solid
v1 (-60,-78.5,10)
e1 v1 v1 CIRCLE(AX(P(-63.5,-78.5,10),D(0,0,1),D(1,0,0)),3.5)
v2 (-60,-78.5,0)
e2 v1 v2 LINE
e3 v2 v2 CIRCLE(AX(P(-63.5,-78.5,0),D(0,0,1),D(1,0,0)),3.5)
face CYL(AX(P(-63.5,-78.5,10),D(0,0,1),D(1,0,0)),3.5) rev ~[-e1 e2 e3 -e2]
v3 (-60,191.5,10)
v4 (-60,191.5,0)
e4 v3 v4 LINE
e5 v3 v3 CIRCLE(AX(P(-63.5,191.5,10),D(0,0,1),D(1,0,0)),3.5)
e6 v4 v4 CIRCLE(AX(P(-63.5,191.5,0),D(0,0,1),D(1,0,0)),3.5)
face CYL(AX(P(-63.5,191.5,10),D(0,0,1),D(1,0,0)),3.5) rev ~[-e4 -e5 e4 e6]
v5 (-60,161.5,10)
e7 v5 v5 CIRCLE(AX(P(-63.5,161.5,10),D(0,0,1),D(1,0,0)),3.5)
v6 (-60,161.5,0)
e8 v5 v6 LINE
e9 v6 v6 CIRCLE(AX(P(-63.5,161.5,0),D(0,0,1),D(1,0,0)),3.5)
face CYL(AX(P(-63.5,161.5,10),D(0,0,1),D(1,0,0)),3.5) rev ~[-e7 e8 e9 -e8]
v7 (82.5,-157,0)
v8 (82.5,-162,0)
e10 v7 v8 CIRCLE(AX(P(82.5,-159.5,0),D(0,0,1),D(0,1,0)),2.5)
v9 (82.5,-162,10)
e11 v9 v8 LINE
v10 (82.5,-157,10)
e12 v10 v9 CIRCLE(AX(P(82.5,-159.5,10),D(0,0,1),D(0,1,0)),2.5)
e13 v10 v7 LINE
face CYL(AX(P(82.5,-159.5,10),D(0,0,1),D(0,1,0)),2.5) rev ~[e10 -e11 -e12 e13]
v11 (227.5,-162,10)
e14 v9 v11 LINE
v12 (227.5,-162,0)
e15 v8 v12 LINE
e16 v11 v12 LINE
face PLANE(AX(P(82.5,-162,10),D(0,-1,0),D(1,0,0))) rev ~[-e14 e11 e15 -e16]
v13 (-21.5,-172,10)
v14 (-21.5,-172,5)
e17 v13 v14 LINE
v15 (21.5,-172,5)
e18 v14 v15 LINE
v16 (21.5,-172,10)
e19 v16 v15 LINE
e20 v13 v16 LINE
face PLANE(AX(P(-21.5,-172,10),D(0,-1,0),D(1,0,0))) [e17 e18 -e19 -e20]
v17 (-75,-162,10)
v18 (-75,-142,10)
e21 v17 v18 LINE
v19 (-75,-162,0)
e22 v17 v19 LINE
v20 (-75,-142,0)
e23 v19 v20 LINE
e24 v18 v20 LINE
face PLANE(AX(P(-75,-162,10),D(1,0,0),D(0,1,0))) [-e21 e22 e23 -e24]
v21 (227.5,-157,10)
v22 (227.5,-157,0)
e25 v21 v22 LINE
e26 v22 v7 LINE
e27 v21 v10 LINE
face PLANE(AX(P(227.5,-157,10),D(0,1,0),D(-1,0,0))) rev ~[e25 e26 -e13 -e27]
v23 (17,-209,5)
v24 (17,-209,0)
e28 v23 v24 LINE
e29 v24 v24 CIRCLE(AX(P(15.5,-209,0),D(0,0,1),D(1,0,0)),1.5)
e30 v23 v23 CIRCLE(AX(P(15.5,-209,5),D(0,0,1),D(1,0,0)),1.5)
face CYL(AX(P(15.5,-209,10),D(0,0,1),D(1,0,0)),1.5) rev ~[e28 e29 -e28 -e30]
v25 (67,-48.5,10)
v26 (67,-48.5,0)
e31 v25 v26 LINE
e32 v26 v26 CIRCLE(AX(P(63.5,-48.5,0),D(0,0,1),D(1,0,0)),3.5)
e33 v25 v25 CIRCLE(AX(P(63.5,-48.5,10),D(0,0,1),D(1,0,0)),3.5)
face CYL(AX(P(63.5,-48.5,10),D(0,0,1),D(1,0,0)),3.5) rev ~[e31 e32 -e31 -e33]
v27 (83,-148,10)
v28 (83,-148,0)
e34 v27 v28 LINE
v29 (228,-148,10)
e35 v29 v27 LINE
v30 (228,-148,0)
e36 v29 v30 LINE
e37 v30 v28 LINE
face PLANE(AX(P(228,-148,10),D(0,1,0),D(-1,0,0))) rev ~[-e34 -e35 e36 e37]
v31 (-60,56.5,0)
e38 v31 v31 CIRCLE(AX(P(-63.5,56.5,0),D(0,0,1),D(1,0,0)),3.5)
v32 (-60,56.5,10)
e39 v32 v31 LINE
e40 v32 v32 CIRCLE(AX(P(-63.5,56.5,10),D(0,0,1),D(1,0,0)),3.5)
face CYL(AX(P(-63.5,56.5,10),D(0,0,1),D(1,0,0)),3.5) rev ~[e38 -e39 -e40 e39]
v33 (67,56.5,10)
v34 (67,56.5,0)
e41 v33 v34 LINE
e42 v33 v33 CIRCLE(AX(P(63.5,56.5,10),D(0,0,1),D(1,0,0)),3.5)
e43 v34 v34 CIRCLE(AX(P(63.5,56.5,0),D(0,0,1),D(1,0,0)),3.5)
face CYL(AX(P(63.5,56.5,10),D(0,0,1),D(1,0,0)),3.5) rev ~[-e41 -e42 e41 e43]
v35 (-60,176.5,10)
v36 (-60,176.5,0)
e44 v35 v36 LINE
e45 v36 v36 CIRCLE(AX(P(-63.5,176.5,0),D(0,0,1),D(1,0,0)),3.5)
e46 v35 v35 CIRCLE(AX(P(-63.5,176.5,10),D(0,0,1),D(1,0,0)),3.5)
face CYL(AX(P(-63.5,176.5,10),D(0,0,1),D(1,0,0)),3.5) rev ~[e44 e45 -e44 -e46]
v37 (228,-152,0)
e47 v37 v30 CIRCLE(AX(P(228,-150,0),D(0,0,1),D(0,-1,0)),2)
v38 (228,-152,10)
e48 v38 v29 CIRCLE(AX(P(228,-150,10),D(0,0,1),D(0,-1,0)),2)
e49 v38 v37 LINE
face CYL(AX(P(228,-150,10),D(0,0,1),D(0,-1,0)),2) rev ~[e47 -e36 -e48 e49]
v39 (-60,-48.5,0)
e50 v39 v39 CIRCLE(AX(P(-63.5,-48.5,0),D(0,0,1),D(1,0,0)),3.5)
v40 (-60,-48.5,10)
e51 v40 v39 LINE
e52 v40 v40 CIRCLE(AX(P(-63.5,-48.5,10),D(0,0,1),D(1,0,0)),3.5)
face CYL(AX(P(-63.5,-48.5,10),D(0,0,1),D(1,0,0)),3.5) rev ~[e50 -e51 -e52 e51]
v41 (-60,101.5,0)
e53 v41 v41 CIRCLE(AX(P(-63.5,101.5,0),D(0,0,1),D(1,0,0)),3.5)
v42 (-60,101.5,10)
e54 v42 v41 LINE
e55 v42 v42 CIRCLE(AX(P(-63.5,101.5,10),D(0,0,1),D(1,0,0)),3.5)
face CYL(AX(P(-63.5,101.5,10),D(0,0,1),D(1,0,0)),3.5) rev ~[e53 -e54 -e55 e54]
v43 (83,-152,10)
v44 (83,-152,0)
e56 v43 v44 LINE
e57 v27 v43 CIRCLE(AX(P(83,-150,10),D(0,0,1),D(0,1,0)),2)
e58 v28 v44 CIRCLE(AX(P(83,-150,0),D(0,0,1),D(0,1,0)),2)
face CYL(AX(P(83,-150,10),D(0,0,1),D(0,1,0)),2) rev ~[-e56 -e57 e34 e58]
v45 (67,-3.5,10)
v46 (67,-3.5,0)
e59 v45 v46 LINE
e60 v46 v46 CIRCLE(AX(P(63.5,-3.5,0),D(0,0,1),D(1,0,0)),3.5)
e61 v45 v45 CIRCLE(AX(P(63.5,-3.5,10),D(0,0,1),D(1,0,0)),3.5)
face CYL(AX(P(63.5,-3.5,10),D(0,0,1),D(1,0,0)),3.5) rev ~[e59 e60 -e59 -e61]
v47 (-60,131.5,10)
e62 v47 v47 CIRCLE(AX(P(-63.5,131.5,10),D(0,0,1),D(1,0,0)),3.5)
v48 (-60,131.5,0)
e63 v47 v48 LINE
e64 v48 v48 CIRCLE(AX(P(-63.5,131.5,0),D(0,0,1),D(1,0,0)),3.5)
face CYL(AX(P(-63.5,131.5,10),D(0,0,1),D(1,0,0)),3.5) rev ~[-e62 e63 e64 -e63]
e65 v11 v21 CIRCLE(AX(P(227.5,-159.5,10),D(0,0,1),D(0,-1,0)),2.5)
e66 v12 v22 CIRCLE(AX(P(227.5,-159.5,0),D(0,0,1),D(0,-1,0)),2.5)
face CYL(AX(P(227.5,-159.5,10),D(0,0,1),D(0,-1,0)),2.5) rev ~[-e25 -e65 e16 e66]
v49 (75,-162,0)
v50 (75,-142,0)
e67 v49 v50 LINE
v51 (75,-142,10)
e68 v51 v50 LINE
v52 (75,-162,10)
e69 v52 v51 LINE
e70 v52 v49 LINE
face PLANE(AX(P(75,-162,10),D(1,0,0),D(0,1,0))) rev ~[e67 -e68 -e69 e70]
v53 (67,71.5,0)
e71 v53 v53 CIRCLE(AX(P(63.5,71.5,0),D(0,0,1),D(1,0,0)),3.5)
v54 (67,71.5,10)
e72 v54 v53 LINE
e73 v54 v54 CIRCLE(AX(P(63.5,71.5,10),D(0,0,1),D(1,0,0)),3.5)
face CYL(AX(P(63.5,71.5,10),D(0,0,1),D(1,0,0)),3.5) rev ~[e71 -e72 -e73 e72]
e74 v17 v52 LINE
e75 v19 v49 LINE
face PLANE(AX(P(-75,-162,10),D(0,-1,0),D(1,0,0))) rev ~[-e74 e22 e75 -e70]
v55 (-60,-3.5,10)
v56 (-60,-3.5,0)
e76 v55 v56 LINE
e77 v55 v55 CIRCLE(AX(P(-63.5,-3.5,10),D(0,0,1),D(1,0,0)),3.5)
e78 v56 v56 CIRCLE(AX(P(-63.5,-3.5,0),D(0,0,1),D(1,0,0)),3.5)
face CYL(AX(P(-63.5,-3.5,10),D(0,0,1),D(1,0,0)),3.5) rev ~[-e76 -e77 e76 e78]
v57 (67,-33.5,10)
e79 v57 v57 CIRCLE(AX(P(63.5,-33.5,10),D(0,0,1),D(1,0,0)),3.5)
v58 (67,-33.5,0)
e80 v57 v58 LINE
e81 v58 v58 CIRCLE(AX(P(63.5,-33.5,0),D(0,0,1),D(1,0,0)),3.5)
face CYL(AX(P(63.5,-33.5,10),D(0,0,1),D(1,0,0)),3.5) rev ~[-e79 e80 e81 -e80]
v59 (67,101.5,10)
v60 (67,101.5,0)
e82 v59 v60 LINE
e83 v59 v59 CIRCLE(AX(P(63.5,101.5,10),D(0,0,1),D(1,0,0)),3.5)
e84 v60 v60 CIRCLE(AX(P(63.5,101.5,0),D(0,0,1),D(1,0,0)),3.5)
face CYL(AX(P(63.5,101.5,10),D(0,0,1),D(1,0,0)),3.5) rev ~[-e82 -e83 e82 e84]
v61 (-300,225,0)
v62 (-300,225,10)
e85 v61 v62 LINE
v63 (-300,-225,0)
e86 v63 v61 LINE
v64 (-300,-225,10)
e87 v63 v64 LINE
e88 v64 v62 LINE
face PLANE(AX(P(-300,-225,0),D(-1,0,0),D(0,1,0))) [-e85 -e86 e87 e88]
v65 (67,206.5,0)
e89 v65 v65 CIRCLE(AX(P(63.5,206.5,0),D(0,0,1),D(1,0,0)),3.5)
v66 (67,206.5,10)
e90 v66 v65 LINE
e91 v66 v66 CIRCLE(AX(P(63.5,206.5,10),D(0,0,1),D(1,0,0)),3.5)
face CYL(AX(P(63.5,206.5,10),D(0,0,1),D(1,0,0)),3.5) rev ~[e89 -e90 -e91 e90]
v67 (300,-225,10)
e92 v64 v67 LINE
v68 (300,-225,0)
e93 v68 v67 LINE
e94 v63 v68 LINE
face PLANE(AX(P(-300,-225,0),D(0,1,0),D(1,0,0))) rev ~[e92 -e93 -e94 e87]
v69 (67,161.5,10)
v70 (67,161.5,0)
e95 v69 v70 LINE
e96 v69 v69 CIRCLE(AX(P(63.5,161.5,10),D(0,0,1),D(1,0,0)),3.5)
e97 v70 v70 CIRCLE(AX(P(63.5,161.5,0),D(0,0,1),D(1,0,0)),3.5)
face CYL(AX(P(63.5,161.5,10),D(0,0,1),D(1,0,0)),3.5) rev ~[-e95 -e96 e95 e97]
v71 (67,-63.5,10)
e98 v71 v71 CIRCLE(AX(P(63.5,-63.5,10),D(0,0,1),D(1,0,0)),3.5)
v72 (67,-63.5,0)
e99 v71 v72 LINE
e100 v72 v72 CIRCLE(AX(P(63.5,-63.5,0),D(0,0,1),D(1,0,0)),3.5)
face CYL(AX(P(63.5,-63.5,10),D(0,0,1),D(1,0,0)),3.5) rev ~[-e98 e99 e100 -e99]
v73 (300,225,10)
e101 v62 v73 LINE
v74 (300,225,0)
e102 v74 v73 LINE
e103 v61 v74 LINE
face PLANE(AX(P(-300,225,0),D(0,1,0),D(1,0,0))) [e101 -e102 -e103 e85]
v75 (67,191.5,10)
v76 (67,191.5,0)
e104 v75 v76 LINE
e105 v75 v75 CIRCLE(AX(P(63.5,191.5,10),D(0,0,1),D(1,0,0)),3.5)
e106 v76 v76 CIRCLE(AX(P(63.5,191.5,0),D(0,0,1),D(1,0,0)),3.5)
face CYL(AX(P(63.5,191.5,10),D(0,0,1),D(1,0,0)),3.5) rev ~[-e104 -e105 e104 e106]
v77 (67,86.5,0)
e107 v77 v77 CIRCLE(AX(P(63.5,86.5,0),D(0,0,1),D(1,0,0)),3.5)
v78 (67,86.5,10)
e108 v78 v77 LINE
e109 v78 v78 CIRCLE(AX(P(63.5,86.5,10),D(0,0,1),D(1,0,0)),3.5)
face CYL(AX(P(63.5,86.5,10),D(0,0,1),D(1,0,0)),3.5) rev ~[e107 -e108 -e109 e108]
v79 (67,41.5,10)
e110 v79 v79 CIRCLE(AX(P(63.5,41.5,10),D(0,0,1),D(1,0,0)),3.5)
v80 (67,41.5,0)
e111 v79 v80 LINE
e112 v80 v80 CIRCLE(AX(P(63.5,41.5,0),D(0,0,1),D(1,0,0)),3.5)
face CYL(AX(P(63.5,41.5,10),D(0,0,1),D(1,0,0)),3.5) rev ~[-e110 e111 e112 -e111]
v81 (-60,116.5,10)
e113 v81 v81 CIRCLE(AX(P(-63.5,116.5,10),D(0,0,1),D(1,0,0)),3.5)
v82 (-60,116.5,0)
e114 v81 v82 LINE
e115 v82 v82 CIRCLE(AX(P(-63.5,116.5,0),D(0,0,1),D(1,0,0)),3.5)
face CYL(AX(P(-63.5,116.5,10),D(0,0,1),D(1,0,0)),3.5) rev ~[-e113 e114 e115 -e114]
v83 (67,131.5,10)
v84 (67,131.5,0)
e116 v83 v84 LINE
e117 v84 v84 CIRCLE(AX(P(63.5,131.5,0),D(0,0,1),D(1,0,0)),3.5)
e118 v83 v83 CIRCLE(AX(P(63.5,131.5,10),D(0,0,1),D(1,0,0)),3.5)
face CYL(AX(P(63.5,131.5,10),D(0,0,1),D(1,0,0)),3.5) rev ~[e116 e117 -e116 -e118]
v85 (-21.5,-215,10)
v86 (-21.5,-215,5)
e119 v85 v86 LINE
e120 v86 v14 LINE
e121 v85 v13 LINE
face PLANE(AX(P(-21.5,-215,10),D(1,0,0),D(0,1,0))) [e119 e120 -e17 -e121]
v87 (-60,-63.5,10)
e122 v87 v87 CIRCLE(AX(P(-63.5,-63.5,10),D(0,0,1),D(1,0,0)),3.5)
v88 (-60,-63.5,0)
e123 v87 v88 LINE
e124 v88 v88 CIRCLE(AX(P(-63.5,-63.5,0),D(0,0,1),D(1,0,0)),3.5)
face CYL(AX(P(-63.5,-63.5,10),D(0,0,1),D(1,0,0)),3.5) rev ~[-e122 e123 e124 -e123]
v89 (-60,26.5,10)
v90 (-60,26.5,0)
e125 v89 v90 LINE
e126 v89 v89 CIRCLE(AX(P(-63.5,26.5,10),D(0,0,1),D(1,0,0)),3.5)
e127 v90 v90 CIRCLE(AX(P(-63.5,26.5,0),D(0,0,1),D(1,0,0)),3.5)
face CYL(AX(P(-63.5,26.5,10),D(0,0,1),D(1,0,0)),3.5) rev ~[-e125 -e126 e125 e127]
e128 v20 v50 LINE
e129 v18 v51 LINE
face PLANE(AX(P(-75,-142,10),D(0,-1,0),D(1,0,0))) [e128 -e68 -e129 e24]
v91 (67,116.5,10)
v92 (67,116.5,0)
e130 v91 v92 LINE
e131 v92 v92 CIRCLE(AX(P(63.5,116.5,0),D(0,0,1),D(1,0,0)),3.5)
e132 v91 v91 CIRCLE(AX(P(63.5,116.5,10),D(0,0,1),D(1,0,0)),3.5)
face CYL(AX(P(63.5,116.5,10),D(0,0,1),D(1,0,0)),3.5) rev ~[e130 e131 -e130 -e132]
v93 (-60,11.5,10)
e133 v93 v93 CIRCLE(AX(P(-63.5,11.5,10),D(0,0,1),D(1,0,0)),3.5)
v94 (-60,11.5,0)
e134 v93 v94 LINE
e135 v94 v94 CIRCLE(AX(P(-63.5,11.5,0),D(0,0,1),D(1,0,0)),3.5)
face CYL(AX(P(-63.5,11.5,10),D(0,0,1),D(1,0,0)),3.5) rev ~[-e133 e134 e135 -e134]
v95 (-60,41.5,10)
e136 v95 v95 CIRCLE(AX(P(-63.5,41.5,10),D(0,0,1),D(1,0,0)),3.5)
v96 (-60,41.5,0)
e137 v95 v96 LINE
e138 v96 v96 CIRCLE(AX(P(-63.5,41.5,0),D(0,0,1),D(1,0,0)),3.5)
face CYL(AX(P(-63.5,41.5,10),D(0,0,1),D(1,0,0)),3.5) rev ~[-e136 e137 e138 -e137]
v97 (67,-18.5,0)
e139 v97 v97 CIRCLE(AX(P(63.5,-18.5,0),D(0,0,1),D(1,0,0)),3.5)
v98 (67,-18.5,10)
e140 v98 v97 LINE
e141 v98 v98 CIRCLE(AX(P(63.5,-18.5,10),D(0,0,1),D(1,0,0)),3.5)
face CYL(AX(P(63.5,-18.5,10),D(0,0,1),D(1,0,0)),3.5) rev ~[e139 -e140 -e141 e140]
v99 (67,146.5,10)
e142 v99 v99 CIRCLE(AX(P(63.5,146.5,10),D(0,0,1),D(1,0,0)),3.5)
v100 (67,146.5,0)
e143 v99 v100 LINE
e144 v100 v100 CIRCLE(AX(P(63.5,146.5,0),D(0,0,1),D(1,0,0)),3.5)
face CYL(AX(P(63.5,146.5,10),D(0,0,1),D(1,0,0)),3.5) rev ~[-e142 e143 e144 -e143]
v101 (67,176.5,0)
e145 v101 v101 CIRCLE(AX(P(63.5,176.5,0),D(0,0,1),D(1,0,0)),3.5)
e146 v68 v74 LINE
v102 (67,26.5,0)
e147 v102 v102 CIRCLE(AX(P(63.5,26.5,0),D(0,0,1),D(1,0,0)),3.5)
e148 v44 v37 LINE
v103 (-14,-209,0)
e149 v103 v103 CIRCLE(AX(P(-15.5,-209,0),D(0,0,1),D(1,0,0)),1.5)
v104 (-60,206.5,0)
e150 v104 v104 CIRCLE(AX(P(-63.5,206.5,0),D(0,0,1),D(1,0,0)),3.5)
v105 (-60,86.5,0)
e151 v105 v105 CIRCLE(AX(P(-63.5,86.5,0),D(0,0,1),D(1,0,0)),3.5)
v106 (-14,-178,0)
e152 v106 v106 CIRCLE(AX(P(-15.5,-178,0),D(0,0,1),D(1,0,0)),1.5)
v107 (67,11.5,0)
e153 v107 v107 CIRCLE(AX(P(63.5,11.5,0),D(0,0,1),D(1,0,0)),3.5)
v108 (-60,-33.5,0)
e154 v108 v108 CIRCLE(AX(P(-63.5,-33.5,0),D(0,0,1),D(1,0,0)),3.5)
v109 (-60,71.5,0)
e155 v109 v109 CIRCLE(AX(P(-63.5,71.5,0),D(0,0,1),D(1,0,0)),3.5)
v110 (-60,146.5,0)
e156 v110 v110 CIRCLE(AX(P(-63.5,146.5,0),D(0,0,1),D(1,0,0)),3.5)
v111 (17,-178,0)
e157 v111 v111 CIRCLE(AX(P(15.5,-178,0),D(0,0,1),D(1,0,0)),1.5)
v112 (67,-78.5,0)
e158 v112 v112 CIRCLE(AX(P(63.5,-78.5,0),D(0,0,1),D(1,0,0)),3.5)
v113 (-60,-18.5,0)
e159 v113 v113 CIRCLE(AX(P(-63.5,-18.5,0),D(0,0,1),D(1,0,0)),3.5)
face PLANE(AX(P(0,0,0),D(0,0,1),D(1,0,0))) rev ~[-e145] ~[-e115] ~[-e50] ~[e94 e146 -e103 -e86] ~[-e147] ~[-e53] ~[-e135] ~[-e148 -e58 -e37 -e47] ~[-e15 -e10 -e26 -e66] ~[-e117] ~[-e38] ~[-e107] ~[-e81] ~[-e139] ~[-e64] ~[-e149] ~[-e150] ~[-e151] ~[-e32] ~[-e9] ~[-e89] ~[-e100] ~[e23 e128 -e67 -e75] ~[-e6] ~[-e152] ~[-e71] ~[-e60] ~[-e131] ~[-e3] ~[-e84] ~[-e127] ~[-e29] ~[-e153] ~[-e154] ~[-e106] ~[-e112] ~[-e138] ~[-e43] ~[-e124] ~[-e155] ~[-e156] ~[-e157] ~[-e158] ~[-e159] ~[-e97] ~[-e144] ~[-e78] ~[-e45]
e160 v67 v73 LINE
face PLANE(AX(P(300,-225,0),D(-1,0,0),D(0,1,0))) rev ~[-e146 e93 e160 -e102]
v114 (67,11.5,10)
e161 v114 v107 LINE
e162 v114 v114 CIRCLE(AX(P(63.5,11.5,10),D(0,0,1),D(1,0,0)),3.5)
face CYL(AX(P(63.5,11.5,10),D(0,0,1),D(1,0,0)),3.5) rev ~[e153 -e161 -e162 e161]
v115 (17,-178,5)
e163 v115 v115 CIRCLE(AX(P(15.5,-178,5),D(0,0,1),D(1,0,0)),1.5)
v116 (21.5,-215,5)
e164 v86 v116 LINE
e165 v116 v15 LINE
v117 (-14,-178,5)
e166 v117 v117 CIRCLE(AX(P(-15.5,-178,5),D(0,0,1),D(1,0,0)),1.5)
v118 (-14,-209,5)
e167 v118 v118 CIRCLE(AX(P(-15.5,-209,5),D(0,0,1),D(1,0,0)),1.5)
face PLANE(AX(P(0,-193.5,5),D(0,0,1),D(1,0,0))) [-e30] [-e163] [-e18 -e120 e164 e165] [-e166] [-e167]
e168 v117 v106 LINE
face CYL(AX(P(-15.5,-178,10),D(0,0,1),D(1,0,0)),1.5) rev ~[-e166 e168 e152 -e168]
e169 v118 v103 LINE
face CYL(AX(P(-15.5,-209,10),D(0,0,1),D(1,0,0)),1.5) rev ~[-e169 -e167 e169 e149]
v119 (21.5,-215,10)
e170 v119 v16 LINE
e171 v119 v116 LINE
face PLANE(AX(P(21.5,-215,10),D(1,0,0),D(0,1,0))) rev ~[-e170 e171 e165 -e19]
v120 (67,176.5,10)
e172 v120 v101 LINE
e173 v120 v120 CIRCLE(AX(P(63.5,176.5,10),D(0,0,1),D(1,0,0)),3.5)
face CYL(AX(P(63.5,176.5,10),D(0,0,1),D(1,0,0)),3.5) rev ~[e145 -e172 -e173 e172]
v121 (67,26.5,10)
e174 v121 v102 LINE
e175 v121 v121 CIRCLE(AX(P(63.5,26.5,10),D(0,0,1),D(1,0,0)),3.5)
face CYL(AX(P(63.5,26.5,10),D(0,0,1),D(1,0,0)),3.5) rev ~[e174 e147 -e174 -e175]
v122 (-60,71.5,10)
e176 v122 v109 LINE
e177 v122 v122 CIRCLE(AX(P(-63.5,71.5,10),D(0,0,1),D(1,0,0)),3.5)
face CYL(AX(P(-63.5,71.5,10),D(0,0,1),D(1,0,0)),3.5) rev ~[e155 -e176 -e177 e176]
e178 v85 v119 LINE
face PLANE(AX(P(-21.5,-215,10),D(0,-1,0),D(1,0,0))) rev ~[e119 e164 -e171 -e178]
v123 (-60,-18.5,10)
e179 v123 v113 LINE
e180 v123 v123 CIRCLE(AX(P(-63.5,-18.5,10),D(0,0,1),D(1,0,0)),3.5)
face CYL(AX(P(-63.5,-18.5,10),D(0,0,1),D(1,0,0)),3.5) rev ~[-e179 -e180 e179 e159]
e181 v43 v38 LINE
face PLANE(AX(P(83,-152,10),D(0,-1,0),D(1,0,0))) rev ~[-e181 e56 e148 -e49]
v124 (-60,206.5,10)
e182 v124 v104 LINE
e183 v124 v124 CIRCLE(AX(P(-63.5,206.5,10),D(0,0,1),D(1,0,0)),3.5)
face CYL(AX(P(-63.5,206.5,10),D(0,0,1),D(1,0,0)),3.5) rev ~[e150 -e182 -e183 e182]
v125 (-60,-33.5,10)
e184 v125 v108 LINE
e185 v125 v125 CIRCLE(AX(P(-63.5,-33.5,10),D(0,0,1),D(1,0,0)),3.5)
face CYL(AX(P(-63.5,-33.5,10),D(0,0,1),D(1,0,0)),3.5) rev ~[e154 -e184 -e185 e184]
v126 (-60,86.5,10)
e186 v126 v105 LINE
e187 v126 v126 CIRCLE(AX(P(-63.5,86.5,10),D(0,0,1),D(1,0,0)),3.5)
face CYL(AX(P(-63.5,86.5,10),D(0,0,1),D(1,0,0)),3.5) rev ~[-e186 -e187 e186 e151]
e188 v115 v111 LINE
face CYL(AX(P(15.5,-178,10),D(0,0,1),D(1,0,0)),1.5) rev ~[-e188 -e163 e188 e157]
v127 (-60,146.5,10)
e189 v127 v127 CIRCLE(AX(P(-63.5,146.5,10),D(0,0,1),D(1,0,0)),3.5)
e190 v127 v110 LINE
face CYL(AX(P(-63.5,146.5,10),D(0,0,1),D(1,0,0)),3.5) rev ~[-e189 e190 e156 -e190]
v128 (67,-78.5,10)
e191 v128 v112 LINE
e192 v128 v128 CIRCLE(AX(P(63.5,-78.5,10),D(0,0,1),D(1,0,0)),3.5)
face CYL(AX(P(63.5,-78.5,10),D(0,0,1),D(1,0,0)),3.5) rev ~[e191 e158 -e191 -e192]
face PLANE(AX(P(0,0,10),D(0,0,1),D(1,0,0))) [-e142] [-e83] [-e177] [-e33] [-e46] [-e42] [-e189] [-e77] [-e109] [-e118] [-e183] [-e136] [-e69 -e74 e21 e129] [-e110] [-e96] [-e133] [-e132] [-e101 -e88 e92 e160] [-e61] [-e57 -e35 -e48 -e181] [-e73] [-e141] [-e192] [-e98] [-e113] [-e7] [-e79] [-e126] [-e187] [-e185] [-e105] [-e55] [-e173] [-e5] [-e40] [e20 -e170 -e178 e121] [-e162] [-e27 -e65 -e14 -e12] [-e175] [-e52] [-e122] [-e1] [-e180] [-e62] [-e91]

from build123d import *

# Parameters (mm, degrees)
F0_W      = 600
F0_H      = 450
F1_DEPTH  = 10
F2_R      = 3.5
F3_DEPTH  = 10
F4_W      = 43
F4_H      = 43
F4_R      = 1.5
F5_DEPTH  = 5
F6_DEPTH  = 10
F4_W_2    = 150
F4_H_2    = 20
F7_DEPTH  = 10
F8_DEPTH  = 10
F9_DEPTH  = 10
F10_DEPTH = 10


with BuildPart() as f1:
    # F0 (on Top) → F1 (new body)
    with BuildSketch(Plane.XY):
        Rectangle(F0_W, F0_H)
    extrude(amount=F1_DEPTH)

    # F2 (on face) → F3 (cut)
    with BuildSketch(Plane.XY.offset(10)):
        with Locations((-63.5, 206.5)):
            Circle(F2_R)
        with Locations((-63.5, 191.5)):
            Circle(F2_R)
        with Locations((-63.5, 176.5)):
            Circle(F2_R)
        with Locations((-63.5, 161.5)):
            Circle(F2_R)
        with Locations((-63.5, 146.5)):
            Circle(F2_R)
        with Locations((-63.5, 131.5)):
            Circle(F2_R)
        with Locations((-63.5, 116.5)):
            Circle(F2_R)
        with Locations((-63.5, 101.5)):
            Circle(F2_R)
        with Locations((-63.5, 86.5)):
            Circle(F2_R)
        with Locations((-63.5, 71.5)):
            Circle(F2_R)
        with Locations((-63.5, 56.5)):
            Circle(F2_R)
        with Locations((-63.5, 41.5)):
            Circle(F2_R)
        with Locations((-63.5, 26.5)):
            Circle(F2_R)
        with Locations((-63.5, 11.5)):
            Circle(F2_R)
        with Locations((-63.5, -3.5)):
            Circle(F2_R)
        with Locations((-63.5, -18.5)):
            Circle(F2_R)
        with Locations((-63.5, -33.5)):
            Circle(F2_R)
        with Locations((-63.5, -48.5)):
            Circle(F2_R)
        with Locations((-63.5, -63.5)):
            Circle(F2_R)
        with Locations((-63.5, -78.5)):
            Circle(F2_R)
        with Locations((63.5, 191.5)):
            Circle(F2_R)
        with Locations((63.5, 86.5)):
            Circle(F2_R)
        with Locations((63.5, 41.5)):
            Circle(F2_R)
        with Locations((63.5, 26.5)):
            Circle(F2_R)
        with Locations((63.5, 101.5)):
            Circle(F2_R)
        with Locations((63.5, -18.5)):
            Circle(F2_R)
        with Locations((63.5, 131.5)):
            Circle(F2_R)
        with Locations((63.5, -63.5)):
            Circle(F2_R)
        with Locations((63.5, 71.5)):
            Circle(F2_R)
        with Locations((63.5, 161.5)):
            Circle(F2_R)
        with Locations((63.5, 176.5)):
            Circle(F2_R)
        with Locations((63.5, -48.5)):
            Circle(F2_R)
        with Locations((63.5, 11.5)):
            Circle(F2_R)
        with Locations((63.5, -78.5)):
            Circle(F2_R)
        with Locations((63.5, -33.5)):
            Circle(F2_R)
        with Locations((63.5, 146.5)):
            Circle(F2_R)
        with Locations((63.5, -3.5)):
            Circle(F2_R)
        with Locations((63.5, 116.5)):
            Circle(F2_R)
        with Locations((63.5, 56.5)):
            Circle(F2_R)
        with Locations((63.5, 206.5)):
            Circle(F2_R)
    extrude(amount=-F3_DEPTH, mode=Mode.SUBTRACT)

    # F4 (on face) → F5 (cut)
    with BuildSketch(Plane.XY.offset(10)):
        with Locations((0, -193.5)):
            Rectangle(F4_W, F4_H)
        with Locations((-15.5, -209)):
            Circle(F4_R, mode=Mode.SUBTRACT)
        with Locations((-15.5, -178)):
            Circle(F4_R, mode=Mode.SUBTRACT)
        with Locations((15.5, -209)):
            Circle(F4_R, mode=Mode.SUBTRACT)
        with Locations((15.5, -178)):
            Circle(F4_R, mode=Mode.SUBTRACT)
    extrude(amount=-F5_DEPTH, mode=Mode.SUBTRACT)

    # F6 (cut): faces of the model
    f6_faces = [f1.faces().sort_by_distance(p)[0] for p in [
        (15.5, -209, 10),
        (15.5, -178, 10),
        (-15.5, -178, 10),
        (-15.5, -209, 10),
    ]]
    extrude(f6_faces, amount=-F6_DEPTH, mode=Mode.SUBTRACT)

    # F4 (on face) → F7 (cut)
    with BuildSketch(Plane.XY.offset(10)):
        with Locations((0, -152)):
            Rectangle(F4_W_2, F4_H_2)
    extrude(amount=-F7_DEPTH, mode=Mode.SUBTRACT)

    # F4 (on face) → F8 (cut)
    with BuildSketch(Plane.XY.offset(10)):
        with BuildLine():
            Line((227.5, -157), (82.5, -157))
            ThreePointArc((82.5, -157), (80, -159.5), (82.5, -162))
            Line((82.5, -162), (227.5, -162))
            ThreePointArc((227.5, -162), (230, -159.5), (227.5, -157))
        make_face()
    extrude(amount=-F8_DEPTH, mode=Mode.SUBTRACT)

    # F4 (on face) → F9 (cut)
    with BuildSketch(Plane.XY.offset(10)):
        with BuildLine():
            ThreePointArc((83, -148), (81, -150), (83, -152))
            Line((83, -152), (228, -152))
            ThreePointArc((228, -152), (230, -150), (228, -148))
            Line((228, -148), (83, -148))
        make_face()
    extrude(amount=-F9_DEPTH, mode=Mode.SUBTRACT)

    # F2 (on face) → F10 (cut)
    with BuildSketch(Plane.XY.offset(10)):
        with Locations((-63.5, 206.5)):
            Circle(F2_R)
        with Locations((-63.5, 191.5)):
            Circle(F2_R)
        with Locations((-63.5, 176.5)):
            Circle(F2_R)
        with Locations((-63.5, 161.5)):
            Circle(F2_R)
        with Locations((-63.5, 146.5)):
            Circle(F2_R)
        with Locations((-63.5, 131.5)):
            Circle(F2_R)
        with Locations((-63.5, 116.5)):
            Circle(F2_R)
        with Locations((-63.5, 101.5)):
            Circle(F2_R)
        with Locations((-63.5, 86.5)):
            Circle(F2_R)
        with Locations((-63.5, 71.5)):
            Circle(F2_R)
        with Locations((-63.5, 56.5)):
            Circle(F2_R)
        with Locations((-63.5, 41.5)):
            Circle(F2_R)
        with Locations((-63.5, 26.5)):
            Circle(F2_R)
        with Locations((-63.5, 11.5)):
            Circle(F2_R)
        with Locations((-63.5, -3.5)):
            Circle(F2_R)
        with Locations((-63.5, -18.5)):
            Circle(F2_R)
        with Locations((-63.5, -33.5)):
            Circle(F2_R)
        with Locations((-63.5, -48.5)):
            Circle(F2_R)
        with Locations((-63.5, -63.5)):
            Circle(F2_R)
        with Locations((-63.5, -78.5)):
            Circle(F2_R)
        with Locations((63.5, 191.5)):
            Circle(F2_R)
        with Locations((63.5, 86.5)):
            Circle(F2_R)
        with Locations((63.5, 41.5)):
            Circle(F2_R)
        with Locations((63.5, 26.5)):
            Circle(F2_R)
        with Locations((63.5, 101.5)):
            Circle(F2_R)
        with Locations((63.5, -18.5)):
            Circle(F2_R)
        with Locations((63.5, 131.5)):
            Circle(F2_R)
        with Locations((63.5, -63.5)):
            Circle(F2_R)
        with Locations((63.5, 71.5)):
            Circle(F2_R)
        with Locations((63.5, 161.5)):
            Circle(F2_R)
        with Locations((63.5, 176.5)):
            Circle(F2_R)
        with Locations((63.5, -48.5)):
            Circle(F2_R)
        with Locations((63.5, 11.5)):
            Circle(F2_R)
        with Locations((63.5, -78.5)):
            Circle(F2_R)
        with Locations((63.5, -33.5)):
            Circle(F2_R)
        with Locations((63.5, 146.5)):
            Circle(F2_R)
        with Locations((63.5, -3.5)):
            Circle(F2_R)
        with Locations((63.5, 116.5)):
            Circle(F2_R)
        with Locations((63.5, 56.5)):
            Circle(F2_R)
        with Locations((63.5, 206.5)):
            Circle(F2_R)
    extrude(amount=-F10_DEPTH, mode=Mode.SUBTRACT)


solid = f1.part
